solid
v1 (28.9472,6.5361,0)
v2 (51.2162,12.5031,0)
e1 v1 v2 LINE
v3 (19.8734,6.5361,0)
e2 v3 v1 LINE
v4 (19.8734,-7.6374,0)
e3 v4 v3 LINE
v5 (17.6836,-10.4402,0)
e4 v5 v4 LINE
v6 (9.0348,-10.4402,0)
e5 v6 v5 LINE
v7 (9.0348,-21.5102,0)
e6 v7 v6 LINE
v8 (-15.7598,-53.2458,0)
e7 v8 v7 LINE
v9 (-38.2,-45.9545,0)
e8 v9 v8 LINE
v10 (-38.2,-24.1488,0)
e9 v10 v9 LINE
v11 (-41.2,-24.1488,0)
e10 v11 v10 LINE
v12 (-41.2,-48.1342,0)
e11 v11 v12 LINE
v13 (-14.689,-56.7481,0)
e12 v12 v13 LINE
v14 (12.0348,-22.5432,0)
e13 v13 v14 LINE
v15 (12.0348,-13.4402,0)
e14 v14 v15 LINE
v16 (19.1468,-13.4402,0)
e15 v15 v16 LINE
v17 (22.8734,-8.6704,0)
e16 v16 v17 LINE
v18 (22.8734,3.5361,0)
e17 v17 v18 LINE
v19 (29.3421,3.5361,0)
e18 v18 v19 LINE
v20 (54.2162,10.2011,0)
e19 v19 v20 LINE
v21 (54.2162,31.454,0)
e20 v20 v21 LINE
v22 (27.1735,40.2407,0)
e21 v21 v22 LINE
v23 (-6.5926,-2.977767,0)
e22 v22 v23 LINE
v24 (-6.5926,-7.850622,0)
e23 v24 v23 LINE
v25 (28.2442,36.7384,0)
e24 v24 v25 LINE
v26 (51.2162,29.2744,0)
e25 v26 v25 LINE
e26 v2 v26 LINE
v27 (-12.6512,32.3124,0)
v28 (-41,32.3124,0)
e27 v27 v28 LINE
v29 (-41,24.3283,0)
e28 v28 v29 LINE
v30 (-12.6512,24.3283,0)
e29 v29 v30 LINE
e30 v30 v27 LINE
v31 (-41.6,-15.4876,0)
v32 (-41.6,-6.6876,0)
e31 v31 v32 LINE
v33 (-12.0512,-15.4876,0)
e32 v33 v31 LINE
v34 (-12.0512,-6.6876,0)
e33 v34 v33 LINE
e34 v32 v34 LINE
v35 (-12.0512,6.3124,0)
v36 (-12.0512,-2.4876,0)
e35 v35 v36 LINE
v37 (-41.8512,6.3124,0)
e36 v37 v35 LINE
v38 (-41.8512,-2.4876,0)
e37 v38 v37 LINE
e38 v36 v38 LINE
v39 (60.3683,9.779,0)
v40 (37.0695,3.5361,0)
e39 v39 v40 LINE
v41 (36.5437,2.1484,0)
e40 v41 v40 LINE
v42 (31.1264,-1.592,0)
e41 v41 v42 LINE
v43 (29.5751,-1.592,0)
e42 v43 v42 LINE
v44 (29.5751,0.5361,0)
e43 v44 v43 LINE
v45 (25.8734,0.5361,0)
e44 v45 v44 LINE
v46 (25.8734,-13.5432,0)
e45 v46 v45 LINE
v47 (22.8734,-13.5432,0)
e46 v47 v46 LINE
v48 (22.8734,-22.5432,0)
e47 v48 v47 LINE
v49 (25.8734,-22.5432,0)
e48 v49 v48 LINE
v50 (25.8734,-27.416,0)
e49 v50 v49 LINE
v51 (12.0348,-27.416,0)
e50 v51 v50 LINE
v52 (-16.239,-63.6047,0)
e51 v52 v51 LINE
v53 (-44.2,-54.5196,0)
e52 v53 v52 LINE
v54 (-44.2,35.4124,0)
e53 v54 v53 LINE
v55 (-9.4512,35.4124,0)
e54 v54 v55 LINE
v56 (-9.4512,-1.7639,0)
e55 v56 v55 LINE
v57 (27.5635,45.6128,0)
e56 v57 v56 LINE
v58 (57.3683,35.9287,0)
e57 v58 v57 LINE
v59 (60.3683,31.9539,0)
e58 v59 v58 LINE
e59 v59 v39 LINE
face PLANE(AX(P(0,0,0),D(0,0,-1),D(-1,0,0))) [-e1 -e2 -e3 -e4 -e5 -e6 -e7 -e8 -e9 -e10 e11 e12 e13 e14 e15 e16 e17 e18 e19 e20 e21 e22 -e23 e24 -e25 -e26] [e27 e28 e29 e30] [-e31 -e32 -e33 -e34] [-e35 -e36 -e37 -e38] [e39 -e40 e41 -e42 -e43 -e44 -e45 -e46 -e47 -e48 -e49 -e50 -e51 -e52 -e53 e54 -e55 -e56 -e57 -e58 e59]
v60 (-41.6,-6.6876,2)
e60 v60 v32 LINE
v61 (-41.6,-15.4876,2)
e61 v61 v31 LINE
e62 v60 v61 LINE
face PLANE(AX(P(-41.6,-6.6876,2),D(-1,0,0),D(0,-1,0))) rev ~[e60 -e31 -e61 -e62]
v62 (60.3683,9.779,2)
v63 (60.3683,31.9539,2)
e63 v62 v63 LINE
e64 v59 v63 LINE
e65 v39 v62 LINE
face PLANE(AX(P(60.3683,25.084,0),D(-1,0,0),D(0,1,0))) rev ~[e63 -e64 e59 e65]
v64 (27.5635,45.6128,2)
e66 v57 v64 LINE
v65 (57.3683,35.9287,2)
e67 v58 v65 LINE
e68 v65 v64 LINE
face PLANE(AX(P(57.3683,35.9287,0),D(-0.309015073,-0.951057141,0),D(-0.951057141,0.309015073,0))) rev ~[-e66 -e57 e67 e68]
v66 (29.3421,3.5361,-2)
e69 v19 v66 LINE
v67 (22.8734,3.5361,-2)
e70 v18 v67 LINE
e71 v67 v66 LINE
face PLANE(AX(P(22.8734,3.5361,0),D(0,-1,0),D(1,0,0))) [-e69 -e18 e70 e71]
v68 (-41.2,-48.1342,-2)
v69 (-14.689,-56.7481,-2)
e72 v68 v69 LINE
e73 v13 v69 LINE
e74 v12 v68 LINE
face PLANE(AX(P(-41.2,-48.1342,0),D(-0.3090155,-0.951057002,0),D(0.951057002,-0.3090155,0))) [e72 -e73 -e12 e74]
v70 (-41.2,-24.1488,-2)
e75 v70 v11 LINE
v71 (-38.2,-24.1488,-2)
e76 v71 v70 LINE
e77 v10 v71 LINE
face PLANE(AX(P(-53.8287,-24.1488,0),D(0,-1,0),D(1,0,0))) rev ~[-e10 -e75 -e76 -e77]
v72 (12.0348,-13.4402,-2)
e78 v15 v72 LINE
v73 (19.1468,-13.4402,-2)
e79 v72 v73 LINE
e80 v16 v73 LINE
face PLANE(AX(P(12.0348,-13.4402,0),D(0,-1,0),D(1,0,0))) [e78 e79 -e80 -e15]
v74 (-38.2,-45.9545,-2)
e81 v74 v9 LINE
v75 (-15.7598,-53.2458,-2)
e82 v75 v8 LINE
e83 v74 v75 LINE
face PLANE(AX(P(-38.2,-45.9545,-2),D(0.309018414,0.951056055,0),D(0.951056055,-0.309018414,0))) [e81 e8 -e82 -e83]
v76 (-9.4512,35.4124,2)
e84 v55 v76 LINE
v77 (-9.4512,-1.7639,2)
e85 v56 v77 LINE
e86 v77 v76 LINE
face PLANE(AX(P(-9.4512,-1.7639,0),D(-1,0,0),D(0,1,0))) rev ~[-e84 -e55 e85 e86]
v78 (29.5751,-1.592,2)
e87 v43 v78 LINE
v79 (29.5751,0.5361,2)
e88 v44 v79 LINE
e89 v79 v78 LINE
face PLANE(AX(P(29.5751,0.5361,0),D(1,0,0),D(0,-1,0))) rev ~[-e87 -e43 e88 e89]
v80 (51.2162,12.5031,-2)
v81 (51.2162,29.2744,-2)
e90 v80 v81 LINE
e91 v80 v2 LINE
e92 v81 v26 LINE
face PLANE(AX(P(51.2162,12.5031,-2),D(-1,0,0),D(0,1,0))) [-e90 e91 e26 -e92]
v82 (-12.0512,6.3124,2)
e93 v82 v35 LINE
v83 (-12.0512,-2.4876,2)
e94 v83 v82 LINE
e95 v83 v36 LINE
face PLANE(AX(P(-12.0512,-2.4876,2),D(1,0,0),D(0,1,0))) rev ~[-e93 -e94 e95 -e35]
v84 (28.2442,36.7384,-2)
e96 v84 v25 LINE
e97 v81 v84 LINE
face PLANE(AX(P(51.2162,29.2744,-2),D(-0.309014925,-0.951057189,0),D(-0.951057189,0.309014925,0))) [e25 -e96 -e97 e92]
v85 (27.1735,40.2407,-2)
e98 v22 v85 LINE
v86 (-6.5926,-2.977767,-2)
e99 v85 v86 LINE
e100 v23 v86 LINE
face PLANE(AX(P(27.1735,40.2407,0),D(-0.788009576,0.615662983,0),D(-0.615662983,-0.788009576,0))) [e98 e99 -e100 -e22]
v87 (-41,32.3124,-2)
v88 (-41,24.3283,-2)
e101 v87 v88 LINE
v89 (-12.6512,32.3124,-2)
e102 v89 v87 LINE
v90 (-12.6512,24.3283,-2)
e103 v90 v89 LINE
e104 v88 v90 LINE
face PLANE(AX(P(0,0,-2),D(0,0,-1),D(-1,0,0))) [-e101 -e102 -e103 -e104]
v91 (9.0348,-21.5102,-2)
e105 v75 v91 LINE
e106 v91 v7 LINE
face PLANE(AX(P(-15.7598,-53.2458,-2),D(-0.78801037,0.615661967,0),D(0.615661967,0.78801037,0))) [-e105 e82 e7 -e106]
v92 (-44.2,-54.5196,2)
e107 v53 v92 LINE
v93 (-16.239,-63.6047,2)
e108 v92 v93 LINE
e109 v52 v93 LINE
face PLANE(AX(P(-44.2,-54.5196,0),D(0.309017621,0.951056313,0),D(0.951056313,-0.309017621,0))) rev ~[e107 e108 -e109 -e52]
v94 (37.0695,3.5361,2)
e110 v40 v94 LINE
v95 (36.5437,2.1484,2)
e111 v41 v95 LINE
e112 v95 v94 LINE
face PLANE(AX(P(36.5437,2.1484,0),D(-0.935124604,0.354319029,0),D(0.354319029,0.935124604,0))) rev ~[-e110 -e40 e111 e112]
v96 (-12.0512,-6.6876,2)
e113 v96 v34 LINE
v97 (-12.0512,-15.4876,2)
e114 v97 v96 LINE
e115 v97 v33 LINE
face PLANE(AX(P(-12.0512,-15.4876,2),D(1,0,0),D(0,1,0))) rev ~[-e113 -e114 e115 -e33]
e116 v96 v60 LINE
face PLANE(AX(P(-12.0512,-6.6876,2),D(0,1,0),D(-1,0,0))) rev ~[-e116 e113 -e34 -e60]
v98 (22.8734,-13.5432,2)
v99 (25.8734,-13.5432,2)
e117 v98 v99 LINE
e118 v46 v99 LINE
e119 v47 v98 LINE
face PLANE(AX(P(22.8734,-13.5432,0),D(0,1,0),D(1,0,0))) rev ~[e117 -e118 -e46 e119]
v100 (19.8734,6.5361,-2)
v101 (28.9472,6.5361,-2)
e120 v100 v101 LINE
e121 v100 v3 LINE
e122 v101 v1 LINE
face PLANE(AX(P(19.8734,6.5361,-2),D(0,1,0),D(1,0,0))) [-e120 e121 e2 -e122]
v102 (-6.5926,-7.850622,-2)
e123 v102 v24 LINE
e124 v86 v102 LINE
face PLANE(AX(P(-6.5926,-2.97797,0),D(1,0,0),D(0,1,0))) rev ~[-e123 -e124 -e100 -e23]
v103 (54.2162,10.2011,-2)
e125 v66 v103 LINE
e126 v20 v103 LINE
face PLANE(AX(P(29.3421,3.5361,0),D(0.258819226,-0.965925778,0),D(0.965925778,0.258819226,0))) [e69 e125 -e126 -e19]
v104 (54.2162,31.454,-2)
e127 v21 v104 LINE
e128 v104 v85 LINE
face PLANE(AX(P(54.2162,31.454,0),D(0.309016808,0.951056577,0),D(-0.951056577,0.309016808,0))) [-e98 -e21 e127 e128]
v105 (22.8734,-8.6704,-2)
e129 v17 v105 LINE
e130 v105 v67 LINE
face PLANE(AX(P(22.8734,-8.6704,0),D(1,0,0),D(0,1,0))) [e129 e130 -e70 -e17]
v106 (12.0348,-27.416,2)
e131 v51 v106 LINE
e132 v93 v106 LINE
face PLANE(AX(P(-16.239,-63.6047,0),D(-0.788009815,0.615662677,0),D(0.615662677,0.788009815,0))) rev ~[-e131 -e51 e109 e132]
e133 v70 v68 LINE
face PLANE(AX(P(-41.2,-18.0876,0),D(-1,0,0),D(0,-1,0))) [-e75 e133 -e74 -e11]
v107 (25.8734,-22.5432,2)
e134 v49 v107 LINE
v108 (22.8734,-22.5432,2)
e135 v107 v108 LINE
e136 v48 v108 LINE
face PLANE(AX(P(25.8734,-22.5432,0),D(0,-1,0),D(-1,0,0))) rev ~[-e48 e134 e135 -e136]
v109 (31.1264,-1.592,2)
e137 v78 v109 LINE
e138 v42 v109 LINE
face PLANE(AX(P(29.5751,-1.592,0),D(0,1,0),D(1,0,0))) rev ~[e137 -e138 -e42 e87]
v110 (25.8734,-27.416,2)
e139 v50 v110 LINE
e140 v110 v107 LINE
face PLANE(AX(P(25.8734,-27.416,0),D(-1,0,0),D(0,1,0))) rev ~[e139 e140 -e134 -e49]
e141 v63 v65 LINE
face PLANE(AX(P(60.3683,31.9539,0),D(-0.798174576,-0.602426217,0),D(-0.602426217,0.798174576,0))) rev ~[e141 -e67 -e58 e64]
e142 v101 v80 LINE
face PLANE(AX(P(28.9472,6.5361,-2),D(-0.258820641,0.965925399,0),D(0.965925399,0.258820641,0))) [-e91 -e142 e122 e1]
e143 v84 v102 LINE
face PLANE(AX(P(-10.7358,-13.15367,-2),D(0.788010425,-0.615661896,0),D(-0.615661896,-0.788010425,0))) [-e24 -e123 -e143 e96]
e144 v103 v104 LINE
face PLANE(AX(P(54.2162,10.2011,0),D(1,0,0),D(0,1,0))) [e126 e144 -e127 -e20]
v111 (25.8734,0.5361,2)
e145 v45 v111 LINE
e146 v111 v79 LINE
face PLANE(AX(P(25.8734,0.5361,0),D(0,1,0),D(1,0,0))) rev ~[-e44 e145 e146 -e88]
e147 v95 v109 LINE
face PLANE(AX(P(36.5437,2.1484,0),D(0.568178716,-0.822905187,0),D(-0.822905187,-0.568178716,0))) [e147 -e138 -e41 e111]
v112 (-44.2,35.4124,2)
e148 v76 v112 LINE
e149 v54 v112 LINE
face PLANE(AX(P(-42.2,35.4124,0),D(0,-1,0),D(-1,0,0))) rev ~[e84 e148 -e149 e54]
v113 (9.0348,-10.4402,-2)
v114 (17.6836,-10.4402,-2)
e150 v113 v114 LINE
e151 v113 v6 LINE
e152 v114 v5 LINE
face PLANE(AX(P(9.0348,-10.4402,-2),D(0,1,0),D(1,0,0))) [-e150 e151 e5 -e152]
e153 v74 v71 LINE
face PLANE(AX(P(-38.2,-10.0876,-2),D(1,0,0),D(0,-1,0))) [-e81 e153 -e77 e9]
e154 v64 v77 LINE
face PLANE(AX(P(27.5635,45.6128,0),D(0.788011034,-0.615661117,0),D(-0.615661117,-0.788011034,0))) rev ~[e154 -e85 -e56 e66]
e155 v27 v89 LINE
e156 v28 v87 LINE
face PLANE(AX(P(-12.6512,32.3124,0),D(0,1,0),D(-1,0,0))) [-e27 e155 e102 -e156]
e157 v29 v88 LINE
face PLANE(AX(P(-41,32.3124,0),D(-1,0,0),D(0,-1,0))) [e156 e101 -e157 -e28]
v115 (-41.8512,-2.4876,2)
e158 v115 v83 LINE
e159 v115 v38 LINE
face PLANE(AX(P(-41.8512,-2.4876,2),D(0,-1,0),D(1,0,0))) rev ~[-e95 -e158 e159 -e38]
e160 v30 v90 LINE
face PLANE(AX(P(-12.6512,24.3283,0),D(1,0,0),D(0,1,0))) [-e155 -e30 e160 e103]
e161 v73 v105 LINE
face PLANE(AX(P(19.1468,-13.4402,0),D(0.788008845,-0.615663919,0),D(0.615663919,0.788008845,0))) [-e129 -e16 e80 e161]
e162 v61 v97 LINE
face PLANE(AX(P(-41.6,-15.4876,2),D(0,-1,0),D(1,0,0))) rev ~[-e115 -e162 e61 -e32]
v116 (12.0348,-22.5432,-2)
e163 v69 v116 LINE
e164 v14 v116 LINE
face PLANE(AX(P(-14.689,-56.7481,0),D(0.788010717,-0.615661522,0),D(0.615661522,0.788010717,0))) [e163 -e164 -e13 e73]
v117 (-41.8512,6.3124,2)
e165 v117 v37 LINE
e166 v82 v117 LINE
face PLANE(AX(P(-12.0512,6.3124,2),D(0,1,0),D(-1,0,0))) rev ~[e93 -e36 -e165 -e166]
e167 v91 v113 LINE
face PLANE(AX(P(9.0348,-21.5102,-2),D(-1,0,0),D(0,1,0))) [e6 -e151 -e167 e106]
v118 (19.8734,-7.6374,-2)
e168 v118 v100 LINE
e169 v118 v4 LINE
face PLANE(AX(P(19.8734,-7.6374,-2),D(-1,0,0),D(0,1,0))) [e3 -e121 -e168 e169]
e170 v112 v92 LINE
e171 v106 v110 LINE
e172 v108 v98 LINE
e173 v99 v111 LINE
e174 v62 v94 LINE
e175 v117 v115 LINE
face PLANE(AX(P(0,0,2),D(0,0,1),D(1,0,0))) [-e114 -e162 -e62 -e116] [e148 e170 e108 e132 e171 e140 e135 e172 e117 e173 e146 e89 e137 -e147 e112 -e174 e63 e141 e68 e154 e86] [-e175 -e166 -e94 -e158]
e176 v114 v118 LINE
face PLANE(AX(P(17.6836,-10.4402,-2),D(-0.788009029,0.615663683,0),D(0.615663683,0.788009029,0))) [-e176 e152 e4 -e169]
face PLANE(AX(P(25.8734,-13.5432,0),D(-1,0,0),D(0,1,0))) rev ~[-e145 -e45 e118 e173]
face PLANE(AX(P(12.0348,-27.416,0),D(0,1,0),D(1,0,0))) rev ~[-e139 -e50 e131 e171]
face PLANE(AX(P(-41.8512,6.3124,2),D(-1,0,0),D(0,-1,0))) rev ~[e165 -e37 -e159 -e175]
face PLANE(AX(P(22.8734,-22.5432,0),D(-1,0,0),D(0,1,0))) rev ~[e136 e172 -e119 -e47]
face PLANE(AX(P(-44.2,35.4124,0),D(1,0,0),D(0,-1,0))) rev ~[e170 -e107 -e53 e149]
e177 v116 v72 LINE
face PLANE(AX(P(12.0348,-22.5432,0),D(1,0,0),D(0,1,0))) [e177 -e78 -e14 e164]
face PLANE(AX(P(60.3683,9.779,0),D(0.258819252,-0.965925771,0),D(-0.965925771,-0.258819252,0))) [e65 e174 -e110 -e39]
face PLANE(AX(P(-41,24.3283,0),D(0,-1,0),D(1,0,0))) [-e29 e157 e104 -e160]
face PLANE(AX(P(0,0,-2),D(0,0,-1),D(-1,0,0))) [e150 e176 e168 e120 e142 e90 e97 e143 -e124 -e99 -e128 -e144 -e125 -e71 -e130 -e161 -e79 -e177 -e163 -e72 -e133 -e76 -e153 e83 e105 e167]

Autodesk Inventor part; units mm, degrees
ref_plane "YZ Plane" through (0, 0, 0) normal (1, 0, 0) x (0, 1, 0)
ref_plane "XZ Plane" through (0, 0, 0) normal (0, 1, 0) x (-1, 0, 0)
ref_plane "XY Plane" through (0, 0, 0) normal (0, 0, 1) x (1, 0, 0)
ref_plane "Work Plane1" through (0, 0, 0) normal (0, 0, 1) x (1, 0, 0)
sketch "Sketch1" plane through (0, 0, 0) normal (0, 0, 1) x (1, 0, 0)
  line L0 (29.3421, 3.5361) -> (54.2162, 10.2011) projected
  line L1 (29.3421, 3.5361) -> (22.8734, 3.5361) projected
  line L2 (22.8734, 3.5361) -> (22.8734, -8.6704) projected
  line L3 (22.8734, -8.6704) -> (19.1468, -13.4402) projected
  line L4 (19.1468, -13.4402) -> (12.0348, -13.4402) projected
  line L5 (12.0348, -13.4402) -> (12.0348, -22.5432) projected
  line L6 (12.0348, -22.5432) -> (-14.689, -56.7481) projected
  line L7 (-14.689, -56.7481) -> (-41.2, -48.1342) projected
  line L8 (-41.2, -48.1342) -> (-41.2, -18.0876) projected
  line L9 (-41.2, -7.0876) -> (-38.2, -7.0876) projected
  line L10 (-38.2, -7.0876) -> (-38.2, -2.0876) projected
  line L11 (-38.2, -2.0876) -> (-41.4512, -2.0876) projected
  line L12 (-41.4512, -2.0876) -> (-41.4512, 5.4124) construction
  line L13 (-41.4512, 5.4124) -> (-41.2, 5.4124) construction
  line L14 (-41.2, 5.4124) -> (-41.2, 5.9124) construction
  line L15 (-41.2, 5.9124) -> (-38.2, 5.9124) projected
  line L16 (-38.2, 5.9124) -> (-38.2, 8.4124) projected
  line L17 (-38.2, 8.4124) -> (-41.2, 8.4124) projected
  line L18 (-41.2, 8.4124) -> (-41.2, 32.4124) projected
  line L19 (-41.2, 32.4124) -> (-12.4512, 32.4124) projected
  line L20 (-12.4512, 32.4124) -> (-12.4512, 8.4124) projected
  line L21 (-12.4512, 8.4124) -> (-15.4512, 8.4124) projected
  line L22 (-15.4512, 8.4124) -> (-15.4512, 5.9124) projected
  line L23 (-15.4512, 5.9124) -> (-12.4512, 5.9124) projected
  line L24 (-12.4512, 5.9124) -> (-12.4512, -2.0876) projected
  line L25 (-12.4512, -2.0876) -> (-15.4512, -2.0876) projected
  line L26 (-15.4512, -2.0876) -> (-15.4512, -7.0876) projected
  line L27 (-15.4512, -7.0876) -> (-12.4512, -7.0876) projected
  line L28 (-12.4512, -7.0876) -> (-12.4512, -15.0876) projected
  line L29 (-10.7358, -8.2808) -> (27.1735, 40.2407) projected
  line L30 (27.1735, 40.2407) -> (54.2162, 31.454) projected
  line L31 (54.2162, 31.454) -> (54.2162, 10.2011) projected
  line L32 (36.5437, 2.1484) -> (31.1264, -1.592) projected
  line L33 (36.5437, 2.1484) -> (37.0695, 3.5361) projected
  line L34 (60.3683, 9.779) -> (37.0695, 3.5361) projected
  line L35 (60.3683, 9.779) -> (60.3683, 9.784) projected
  line L36 (60.3683, 9.784) -> (60.3683, 25.084) projected
  line L37 (60.3683, 25.084) -> (60.3683, 31.9539) projected
  line L38 (60.3683, 31.9539) -> (57.3683, 35.9287) projected
  line L39 (57.3683, 35.9287) -> (27.5635, 45.6128) projected
  line L40 (27.5635, 45.6128) -> (-9.4512, -1.7639) projected
  line L41 (-9.4512, -1.7639) -> (-9.4512, 35.4124) projected
  line L42 (-9.4512, 35.4124) -> (-42.2, 35.4124) projected
  line L43 (-42.2, 35.4124) -> (-44.2, 35.4124) projected
  line L44 (-44.2, 35.4124) -> (-44.2, -54.5196) projected
  line L45 (-44.2, -54.5196) -> (-16.239, -63.6047) projected
  line L46 (-16.239, -63.6047) -> (12.0348, -27.416) projected
  line L47 (12.0348, -27.416) -> (25.8734, -27.416) projected
  line L48 (25.8734, -27.416) -> (25.8734, -22.5432) projected
  line L49 (25.8734, -22.5432) -> (22.8734, -22.5432) projected
  line L50 (22.8734, -22.5432) -> (22.8734, -13.5432) projected
  line L51 (22.8734, -13.5432) -> (25.8734, -13.5432) projected
  line L52 (25.8734, -13.5432) -> (25.8734, 0.5361) projected
  line L53 (25.8734, 0.5361) -> (29.5751, 0.5361) projected
  line L54 (29.5751, 0.5361) -> (29.5751, -1.592) projected
  line L55 (29.5751, -1.592) -> (31.1264, -1.592) projected
  line L56 (-12.4512, 5.9124) -> (-41.4512, 5.9124)
  line L57 (-41.4512, 5.9124) -> (-41.4512, -2.0876) construction
  line L58 (-41.4512, -2.0876) -> (-12.4512, -2.0876)
  line L59 (-12.4512, -2.0876) -> (-12.4512, 5.9124)
  line L60 (-12.4512, -7.0876) -> (-41.2, -7.0876)
  line L61 (-41.2, -7.0876) -> (-41.2, -15.0876)
  line L62 (-41.2, -15.0876) -> (-12.4512, -15.0876)
  line L63 (-12.4512, -15.0876) -> (-12.4512, -7.0876)
  line L64 (-41.4512, 5.9124) -> (-41.4512, -2.0876)
  line L65 (-41.2, -18.0876) -> (-38.2, -18.0876) projected
  line L66 (-38.2, -18.0876) -> (-38.2, -15.0876) projected
  line L67 (-38.2, -15.0876) -> (-41.2, -15.0876) projected
  line L68 (-41.2, -15.0876) -> (-41.2, -7.0876) projected
  line L69 (-12.4512, -15.0876) -> (-14.4512, -15.0876) projected
  line L70 (-14.4512, -15.0876) -> (-14.4512, -17.0876) projected
  line L71 (-14.4512, -17.0876) -> (-10.7358, -17.0876) projected
  line L72 (-10.7358, -17.0876) -> (-10.7358, -8.2808) projected
  point P0 (0, 0)
  dimension "d0" = 8
extrude "Extrusion1" add sketch "Sketch1" along normal blind 2 contours L1 L2 L3 L4 L5 L6 L7 L8 L65 L66 L62 L70 L71 L72 L29 L30 L31 L0 | L60 L10 L58 L26 | L56 L16 L17 L18 L19 L20 L21 L22 | L32 L55 L54 L53 L52 L51 L50 L49 L48 L47 L46 L45 L44 L43 L42 L41 L40 L39 L38 L37 L36 L35 L34 L33
sketch "Sketch2" plane through (0, 0, 0) normal (0, 0, -1) x (-1, 0, 0)
  line L0 (12.4512, -15.0876) -> (12.4512, -7.0876) projected
  line L1 (12.4512, -7.0876) -> (41.2, -7.0876) projected
  line L2 (41.2, -7.0876) -> (41.2, -15.0876) projected
  line L3 (41.2, -15.0876) -> (12.4512, -15.0876) projected
  line L4 (41.4512, 5.9124) -> (41.4512, -2.0876) projected
  line L5 (41.4512, -2.0876) -> (12.4512, -2.0876) projected
  line L6 (12.4512, -2.0876) -> (12.4512, 5.9124) projected
  line L7 (12.4512, 5.9124) -> (41.4512, 5.9124) projected
  line L8 (-36.5437, 2.1484) -> (-31.1264, -1.592) projected
  line L9 (-31.1264, -1.592) -> (-29.5751, -1.592) projected
  line L10 (-29.5751, -1.592) -> (-29.5751, 0.5361) projected
  line L11 (-29.5751, 0.5361) -> (-25.8734, 0.5361) projected
  line L12 (-25.8734, 0.5361) -> (-25.8734, -13.5432) projected
  line L13 (-25.8734, -13.5432) -> (-22.8734, -13.5432) projected
  line L14 (-22.8734, -13.5432) -> (-22.8734, -22.5432) projected
  line L15 (-22.8734, -22.5432) -> (-25.8734, -22.5432) projected
  line L16 (-25.8734, -22.5432) -> (-25.8734, -27.416) projected
  line L17 (-25.8734, -27.416) -> (-12.0348, -27.416) projected
  line L18 (-12.0348, -27.416) -> (16.239, -63.6047) projected
  line L19 (16.239, -63.6047) -> (44.2, -54.5196) projected
  line L20 (44.2, -54.5196) -> (44.2, 35.4124) projected
  line L21 (44.2, 35.4124) -> (9.4512, 35.4124) projected
  line L22 (9.4512, 35.4124) -> (9.4512, -1.7639) projected
  line L23 (9.4512, -1.7639) -> (-27.5635, 45.6128) projected
  line L24 (-27.5635, 45.6128) -> (-57.3683, 35.9287) projected
  line L25 (-57.3683, 35.9287) -> (-60.3683, 31.9539) projected
  line L26 (-60.3683, 31.9539) -> (-60.3683, 9.784) projected
  line L27 (-60.3683, 9.784) -> (-60.3683, 9.779) projected
  line L28 (-60.3683, 9.779) -> (-37.0695, 3.5361) projected
  line L29 (-37.0695, 3.5361) -> (-36.5437, 2.1484) projected
  line L30 (-29.3421, 3.5361) -> (-54.2162, 10.2011) projected
  line L31 (-54.2162, 10.2011) -> (-54.2162, 31.454) projected
  line L32 (-54.2162, 31.454) -> (-27.1735, 40.2407) projected
  line L33 (-27.1735, 40.2407) -> (10.7358, -8.2808) projected
  line L34 (12.4512, -15.0876) -> (12.4512, -7.0876) projected
  line L35 (12.4512, -7.0876) -> (15.4512, -7.0876) projected
  line L36 (15.4512, -7.0876) -> (15.4512, -2.0876) projected
  line L37 (15.4512, -2.0876) -> (12.4512, -2.0876) projected
  line L38 (12.4512, -2.0876) -> (12.4512, 5.9124) projected
  line L39 (12.4512, 5.9124) -> (15.4512, 5.9124) projected
  line L40 (15.4512, 5.9124) -> (15.4512, 8.4124) projected
  line L41 (15.4512, 8.4124) -> (12.4512, 8.4124) projected
  line L42 (12.4512, 8.4124) -> (12.4512, 32.4124) projected
  line L43 (12.4512, 32.4124) -> (41.2, 32.4124) projected
  line L44 (41.2, 32.4124) -> (41.2, 8.4124) projected
  line L45 (41.2, 8.4124) -> (38.2, 8.4124) projected
  line L46 (38.2, 8.4124) -> (38.2, 5.9124) projected
  line L47 (38.2, 5.9124) -> (41.2, 5.9124) projected
  line L48 (41.2, 5.9124) -> (41.2, 5.4124) projected
  line L49 (41.2, 5.4124) -> (41.4512, 5.4124) projected
  line L50 (41.4512, 5.4124) -> (41.4512, -2.0876) projected
  line L51 (41.4512, -2.0876) -> (38.2, -2.0876) projected
  line L52 (38.2, -2.0876) -> (38.2, -7.0876) projected
  line L53 (38.2, -7.0876) -> (41.2, -7.0876) projected
  line L54 (41.2, -18.0876) -> (41.2, -48.1342) projected
  line L55 (41.2, -48.1342) -> (14.689, -56.7481) projected
  line L56 (14.689, -56.7481) -> (-12.0348, -22.5432) projected
  line L57 (-12.0348, -22.5432) -> (-12.0348, -13.4402) projected
  line L58 (-12.0348, -13.4402) -> (-19.1468, -13.4402) projected
  line L59 (-19.1468, -13.4402) -> (-22.8734, -8.6704) projected
  line L60 (-22.8734, -8.6704) -> (-22.8734, 3.5361) projected
  line L61 (-22.8734, 3.5361) -> (-29.3421, 3.5361) projected
  circle A0 centre (37.2, 11.8299) radius 1.45 projected
  circle A1 centre (16.4512, 11.8299) radius 1.45 projected
  line L62 (12.6512, -7.0876) -> (12.6512, -11.0573)
  line L63 (12.6512, -11.0573) -> (-27.2448, 40.0073)
  line L64 (-27.2448, 40.0073) -> (-54.0162, 31.3087)
  line L65 (-54.0162, 31.3087) -> (-54.0162, 10.3546)
  line L66 (-54.0162, 10.3546) -> (-29.3158, 3.7361)
  line L67 (-29.3158, 3.7361) -> (-22.6734, 3.7361)
  line L68 (-22.6734, 3.7361) -> (-22.6734, -8.6016)
  line L69 (-22.6734, -8.6016) -> (-19.0493, -13.2402)
  line L70 (-19.0493, -13.2402) -> (-11.8348, -13.2402)
  line L71 (-11.8348, -13.2402) -> (-11.8348, -22.4744)
  line L72 (-11.8348, -22.4744) -> (14.7604, -56.5146)
  line L73 (14.7604, -56.5146) -> (41, -47.9889)
  line L74 (41, -47.9889) -> (41, -7.0876)
  line L75 (12.2936, -10.5996) -> (12.2936, -15.3176)
  line L76 (12.2936, -15.3176) -> (41, -15.3176)
  line L77 (12.6512, 32.3124) -> (41, 32.3124)
  line L78 (41, 32.3124) -> (41, 24.3283)
  line L79 (41, 24.3283) -> (12.6512, 24.3283)
  line L80 (12.6512, 24.3283) -> (12.6512, 32.3124)
  line L81 (41.2, -15.0876) -> (38.2, -15.0876) projected
  line L82 (38.2, -15.0876) -> (38.2, -18.0876) projected
  line L83 (38.2, -18.0876) -> (41.2, -18.0876) projected
  line L84 (10.7358, -8.2808) -> (10.7358, -17.0876) projected
  line L85 (10.7358, -17.0876) -> (14.4512, -17.0876) projected
  line L86 (14.4512, -17.0876) -> (14.4512, -15.0876) projected
  line L87 (14.4512, -15.0876) -> (12.4512, -15.0876) projected
  line L88 (41.2, -7.0876) -> (41.2, -15.0876) projected
  point P0 (0, 0)
  point P1 (12.4512, -10.4765)
  dimension "d3" = 0.2
  dimension "d4" = 7.9841
  dimension "d5" = 0.2
  dimension "d6" = 0.2
  dimension "d7" = 0.1
extrude "Extrusion2" add sketch "Sketch2" along normal blind 2 contours L0 L63 L62 L1 L74 L3 | L0 L1 L62 L63 | L3 L82 L76 L86 | L76 L82 L83 L74 L73 L72 L71 L70 L69 L68 L67 L66 L65 L64 L63 L84 L85 L86 | L63 L64 L65 L66 L67 L68 L69 L70 L71 L72 L73 L74 L83 L54 L55 L56 L57 L58 L59 L60 L61 L30 L31 L32 L33 L84 | L74 L1 L2 L3 | L36 L5 L52 L1 | L77 L78 L79 L80
sketch "Sketch3" plane through (0, 0, -2) normal (0, 0, -1) x (-1, 0, 0)
  line L0 (12.4512, -7.0876) -> (12.4512, -15.0876) projected
  line L1 (10.7358, -8.2808) -> (-27.1735, 40.2407) projected
  line L2 (-27.1735, 40.2407) -> (-54.2162, 31.454) projected
  line L3 (-54.2162, 31.454) -> (-54.2162, 10.2011) projected
  line L4 (-54.2162, 10.2011) -> (-29.3421, 3.5361) projected
  line L5 (-29.3421, 3.5361) -> (-22.8734, 3.5361) projected
  line L6 (-22.8734, 3.5361) -> (-22.8734, -8.6704) projected
  line L7 (-22.8734, -8.6704) -> (-19.1468, -13.4402) projected
  line L8 (-19.1468, -13.4402) -> (-12.0348, -13.4402) projected
  line L9 (-12.0348, -13.4402) -> (-12.0348, -22.5432) projected
  line L10 (-12.0348, -22.5432) -> (14.689, -56.7481) projected
  line L11 (14.689, -56.7481) -> (41.2, -48.1342) projected
  line L12 (41.2, -15.0876) -> (41.2, -7.0876) projected
  line L13 (41.2, -7.0876) -> (38.2, -7.0876) projected
  line L14 (38.2, -7.0876) -> (38.2, -2.0876) projected
  line L15 (38.2, -2.0876) -> (15.4512, -2.0876) projected
  line L16 (15.4512, -2.0876) -> (15.4512, -7.0876) projected
  line L17 (15.4512, -7.0876) -> (12.4512, -7.0876) projected
  line L18 (38.2, -45.9545) -> (15.7598, -53.2458)
  line L19 (15.7598, -53.2458) -> (-9.0348, -21.5102)
  line L20 (-9.0348, -21.5102) -> (-9.0348, -10.4402)
  line L21 (-9.0348, -10.4402) -> (-17.6836, -10.4402)
  line L22 (-17.6836, -10.4402) -> (-19.8734, -7.6374)
  line L23 (-19.8734, -7.6374) -> (-19.8734, 6.5361)
  line L24 (-19.8734, 6.5361) -> (-28.9472, 6.5361)
  line L25 (-28.9472, 6.5361) -> (-51.2162, 12.5031)
  line L26 (-51.2162, 12.5031) -> (-51.2162, 29.2744)
  line L27 (-51.2162, 29.2744) -> (-28.2442, 36.7384)
  line L28 (-28.2442, 36.7384) -> (15.4512, -19.1891)
  line L29 (15.4512, -19.1891) -> (15.4512, -10.0876)
  line L30 (15.4512, -10.0876) -> (18.4512, -10.0876)
  line L31 (18.4512, -10.0876) -> (18.4512, -5.0876)
  line L32 (18.4512, -5.0876) -> (35.2, -5.0876)
  line L33 (35.2, -5.0876) -> (35.2, -10.0876)
  line L34 (35.2, -10.0876) -> (38.2, -10.0876)
  line L35 (38.2, -10.0876) -> (38.2, -45.9545)
  line L36 (12.4512, -15.0876) -> (14.4512, -15.0876) projected
  line L37 (14.4512, -15.0876) -> (14.4512, -17.0876) projected
  line L38 (14.4512, -17.0876) -> (10.7358, -17.0876) projected
  line L39 (10.7358, -17.0876) -> (10.7358, -8.2808) projected
  line L40 (41.2, -48.1342) -> (41.2, -18.0876) projected
  line L41 (41.2, -18.0876) -> (38.2, -18.0876) projected
  line L42 (38.2, -18.0876) -> (38.2, -15.0876) projected
  line L43 (38.2, -15.0876) -> (41.2, -15.0876) projected
  point P0 (0, 0)
  dimension "d10" = 3
extrude "Extrusion3" cut sketch "Sketch3" against normal up to surface (2 mm away) contours L38 L39 L28 | L28 L29 L30 L31 L32 L33 L34 L35 L18 L19 L20 L21 L22 L23 L24 L25 L26 L27 L39 L38
sketch "Sketch4" plane through (0, 0, 2) normal (0, 0, 1) x (1, 0, 0)
  line L0 (-12.4512, -7.0876) -> (-12.4512, -15.0876) projected
  line L1 (-12.4512, -15.0876) -> (-41.2, -15.0876) projected
  line L2 (-41.2, -15.0876) -> (-41.2, -7.0876) projected
  line L3 (-41.2, -7.0876) -> (-12.4512, -7.0876) projected
  line L4 (-41.4512, -2.0876) -> (-41.4512, 5.9124) projected
  line L5 (-41.4512, 5.9124) -> (-12.4512, 5.9124) projected
  line L6 (-12.4512, 5.9124) -> (-12.4512, -2.0876) projected
  line L7 (-12.4512, -2.0876) -> (-41.4512, -2.0876) projected
  line L8 (31.1264, -1.592) -> (36.5437, 2.1484) projected
  line L9 (36.5437, 2.1484) -> (37.0695, 3.5361) projected
  line L10 (37.0695, 3.5361) -> (60.3683, 9.779) projected
  line L11 (60.3683, 9.779) -> (60.3683, 9.784) projected
  line L12 (60.3683, 9.784) -> (60.3683, 31.9539) projected
  line L13 (60.3683, 31.9539) -> (57.3683, 35.9287) projected
  line L14 (57.3683, 35.9287) -> (27.5635, 45.6128) projected
  line L15 (27.5635, 45.6128) -> (-9.4512, -1.7639) projected
  line L16 (-9.4512, -1.7639) -> (-9.4512, 35.4124) projected
  line L17 (-9.4512, 35.4124) -> (-44.2, 35.4124) projected
  line L18 (-44.2, 35.4124) -> (-44.2, -54.5196) projected
  line L19 (-44.2, -54.5196) -> (-16.239, -63.6047) projected
  line L20 (-16.239, -63.6047) -> (12.0348, -27.416) projected
  line L21 (12.0348, -27.416) -> (25.8734, -27.416) projected
  line L22 (25.8734, -27.416) -> (25.8734, -22.5432) projected
  line L23 (25.8734, -22.5432) -> (22.8734, -22.5432) projected
  line L24 (22.8734, -22.5432) -> (22.8734, -13.5432) projected
  line L25 (22.8734, -13.5432) -> (25.8734, -13.5432) projected
  line L26 (25.8734, -13.5432) -> (25.8734, 0.5361) projected
  line L27 (25.8734, 0.5361) -> (29.5751, 0.5361) projected
  line L28 (29.5751, 0.5361) -> (29.5751, -1.592) projected
  line L29 (29.5751, -1.592) -> (31.1264, -1.592) projected
  line L30 (-41.6, -6.6876) -> (-41.6, -15.4876)
  line L31 (-41.6, -15.4876) -> (-12.0512, -15.4876)
  line L32 (-12.0512, -15.4876) -> (-12.0512, -6.6876)
  line L33 (-12.0512, -6.6876) -> (-41.6, -6.6876)
  line L34 (-41.8512, 6.3124) -> (-41.8512, -2.4876)
  line L35 (-41.8512, -2.4876) -> (-12.0512, -2.4876)
  line L36 (-12.0512, -2.4876) -> (-12.0512, 6.3124)
  line L37 (-12.0512, 6.3124) -> (-41.8512, 6.3124)
  point P0 (0, 0)
  dimension "d13" = 0.4
  dimension "d14" = 0.4
extrude "Extrusion4" cut sketch "Sketch4" against normal through all contours L0 L1 L2 L3 | L4 L5 L6 L7 | L33 L32 L31 L30 | L37 L36 L35 L34
sketch "Sketch5" plane through (28.9472, 6.5361, 0) normal (0, 0, -1) x (-1, 0, 0)
  line L0 (40.9984, -22.0237) -> (40.9984, -13.2237) projected
  line L1 (44.3984, -25.7253) -> (42.7564, -23.6237) projected
  line L2 (0.703, 30.2023) -> (-22.269, 22.7383) projected
  line L3 (-22.269, 22.7383) -> (-22.269, 5.967) projected
  line L4 (-22.269, 5.967) -> (0, 0) projected
  line L5 (0, 0) -> (9.0738, 0) projected
  line L6 (9.0738, 0) -> (9.0738, -14.1736) projected
  line L7 (9.0738, -14.1736) -> (11.2636, -16.9764) projected
  line L8 (11.2636, -16.9764) -> (19.9124, -16.9764) projected
  line L9 (19.9124, -16.9764) -> (19.9124, -28.0464) projected
  line L10 (19.9124, -28.0464) -> (44.707, -59.7819) projected
  line L11 (44.707, -59.7819) -> (67.1472, -52.4907) projected
  line L12 (67.1472, -52.4907) -> (67.1472, -24.6237) projected
  line L13 (43.3984, -22.0237) -> (40.9984, -22.0237) projected
  line L14 (44.3984, -22.0237) -> (44.3984, -25.7253) projected
  line L15 (39.6829, -19.6898) -> (0.703, 30.2023) projected
  line L16 (70.5472, -22.0237) -> (44.3984, -22.0237) projected
  line L17 (82.7759, -30.6849) -> (35.5398, -30.6849)
  line L18 (35.5398, -30.6849) -> (35.5398, 1.4585)
  line L19 (35.5398, 1.4585) -> (82.7759, 1.4585)
  line L20 (82.7759, 1.4585) -> (82.7759, -30.6849)
  line L21 (40.9984, -13.2237) -> (44.3984, -13.2237) projected
  line L22 (44.3984, -13.2237) -> (44.3984, -9.0237) projected
  line L23 (44.3984, -9.0237) -> (40.9984, -9.0237) projected
  line L24 (40.9984, -9.0237) -> (40.9984, -0.2237) projected
  line L25 (40.9984, -0.2237) -> (70.7984, -0.2237) projected
  line L26 (70.7984, -0.2237) -> (70.7984, -9.0237) projected
  line L27 (70.7984, -9.0237) -> (67.1472, -9.0237) projected
  line L28 (67.1472, -9.0237) -> (67.1472, -13.2237) projected
  line L29 (67.1472, -13.2237) -> (70.5472, -13.2237) projected
  line L30 (70.5472, -13.2237) -> (70.5472, -22.0237) projected
  line L31 (42.7564, -23.6237) -> (43.3984, -23.6237) projected
  line L32 (43.3984, -23.6237) -> (43.3984, -22.0237) projected
  line L33 (67.1472, -24.6237) -> (70.1472, -24.6237) projected
  line L34 (70.1472, -24.6237) -> (70.1472, -54.6703) projected
  line L35 (70.1472, -54.6703) -> (43.6362, -63.2842) projected
  line L36 (43.6362, -63.2842) -> (16.9124, -29.0794) projected
  line L37 (16.9124, -29.0794) -> (16.9124, -19.9764) projected
  line L38 (16.9124, -19.9764) -> (9.8004, -19.9764) projected
  line L39 (9.8004, -19.9764) -> (6.0738, -15.2066) projected
  line L40 (6.0738, -15.2066) -> (6.0738, -3) projected
  line L41 (6.0738, -3) -> (-0.395, -3) projected
  line L42 (-0.395, -3) -> (-25.269, 3.665) projected
  line L43 (-25.269, 3.665) -> (-25.269, 24.9179) projected
  line L44 (-25.269, 24.9179) -> (1.7737, 33.7046) projected
  line L45 (1.7737, 33.7046) -> (39.6829, -14.817) projected
  line L46 (39.6829, -14.817) -> (39.6829, -19.6898) projected
  point P0 (28.9472, -6.5361)
extrude "Extrusion5" cut sketch "Sketch5" along normal blind 10 contours L0 L21 L22 L23 L24 L25 L26 L27 L28 L29 L30 L16 L14 L1 L31 L32 L13 | L18 L45 L46 L15 | L15 L46 L45 L18 L19 L20 L17 L34 L33 L12 | L12 L33 L34 L17
properties part number "cellSTORM_v5_microscope_cover"
